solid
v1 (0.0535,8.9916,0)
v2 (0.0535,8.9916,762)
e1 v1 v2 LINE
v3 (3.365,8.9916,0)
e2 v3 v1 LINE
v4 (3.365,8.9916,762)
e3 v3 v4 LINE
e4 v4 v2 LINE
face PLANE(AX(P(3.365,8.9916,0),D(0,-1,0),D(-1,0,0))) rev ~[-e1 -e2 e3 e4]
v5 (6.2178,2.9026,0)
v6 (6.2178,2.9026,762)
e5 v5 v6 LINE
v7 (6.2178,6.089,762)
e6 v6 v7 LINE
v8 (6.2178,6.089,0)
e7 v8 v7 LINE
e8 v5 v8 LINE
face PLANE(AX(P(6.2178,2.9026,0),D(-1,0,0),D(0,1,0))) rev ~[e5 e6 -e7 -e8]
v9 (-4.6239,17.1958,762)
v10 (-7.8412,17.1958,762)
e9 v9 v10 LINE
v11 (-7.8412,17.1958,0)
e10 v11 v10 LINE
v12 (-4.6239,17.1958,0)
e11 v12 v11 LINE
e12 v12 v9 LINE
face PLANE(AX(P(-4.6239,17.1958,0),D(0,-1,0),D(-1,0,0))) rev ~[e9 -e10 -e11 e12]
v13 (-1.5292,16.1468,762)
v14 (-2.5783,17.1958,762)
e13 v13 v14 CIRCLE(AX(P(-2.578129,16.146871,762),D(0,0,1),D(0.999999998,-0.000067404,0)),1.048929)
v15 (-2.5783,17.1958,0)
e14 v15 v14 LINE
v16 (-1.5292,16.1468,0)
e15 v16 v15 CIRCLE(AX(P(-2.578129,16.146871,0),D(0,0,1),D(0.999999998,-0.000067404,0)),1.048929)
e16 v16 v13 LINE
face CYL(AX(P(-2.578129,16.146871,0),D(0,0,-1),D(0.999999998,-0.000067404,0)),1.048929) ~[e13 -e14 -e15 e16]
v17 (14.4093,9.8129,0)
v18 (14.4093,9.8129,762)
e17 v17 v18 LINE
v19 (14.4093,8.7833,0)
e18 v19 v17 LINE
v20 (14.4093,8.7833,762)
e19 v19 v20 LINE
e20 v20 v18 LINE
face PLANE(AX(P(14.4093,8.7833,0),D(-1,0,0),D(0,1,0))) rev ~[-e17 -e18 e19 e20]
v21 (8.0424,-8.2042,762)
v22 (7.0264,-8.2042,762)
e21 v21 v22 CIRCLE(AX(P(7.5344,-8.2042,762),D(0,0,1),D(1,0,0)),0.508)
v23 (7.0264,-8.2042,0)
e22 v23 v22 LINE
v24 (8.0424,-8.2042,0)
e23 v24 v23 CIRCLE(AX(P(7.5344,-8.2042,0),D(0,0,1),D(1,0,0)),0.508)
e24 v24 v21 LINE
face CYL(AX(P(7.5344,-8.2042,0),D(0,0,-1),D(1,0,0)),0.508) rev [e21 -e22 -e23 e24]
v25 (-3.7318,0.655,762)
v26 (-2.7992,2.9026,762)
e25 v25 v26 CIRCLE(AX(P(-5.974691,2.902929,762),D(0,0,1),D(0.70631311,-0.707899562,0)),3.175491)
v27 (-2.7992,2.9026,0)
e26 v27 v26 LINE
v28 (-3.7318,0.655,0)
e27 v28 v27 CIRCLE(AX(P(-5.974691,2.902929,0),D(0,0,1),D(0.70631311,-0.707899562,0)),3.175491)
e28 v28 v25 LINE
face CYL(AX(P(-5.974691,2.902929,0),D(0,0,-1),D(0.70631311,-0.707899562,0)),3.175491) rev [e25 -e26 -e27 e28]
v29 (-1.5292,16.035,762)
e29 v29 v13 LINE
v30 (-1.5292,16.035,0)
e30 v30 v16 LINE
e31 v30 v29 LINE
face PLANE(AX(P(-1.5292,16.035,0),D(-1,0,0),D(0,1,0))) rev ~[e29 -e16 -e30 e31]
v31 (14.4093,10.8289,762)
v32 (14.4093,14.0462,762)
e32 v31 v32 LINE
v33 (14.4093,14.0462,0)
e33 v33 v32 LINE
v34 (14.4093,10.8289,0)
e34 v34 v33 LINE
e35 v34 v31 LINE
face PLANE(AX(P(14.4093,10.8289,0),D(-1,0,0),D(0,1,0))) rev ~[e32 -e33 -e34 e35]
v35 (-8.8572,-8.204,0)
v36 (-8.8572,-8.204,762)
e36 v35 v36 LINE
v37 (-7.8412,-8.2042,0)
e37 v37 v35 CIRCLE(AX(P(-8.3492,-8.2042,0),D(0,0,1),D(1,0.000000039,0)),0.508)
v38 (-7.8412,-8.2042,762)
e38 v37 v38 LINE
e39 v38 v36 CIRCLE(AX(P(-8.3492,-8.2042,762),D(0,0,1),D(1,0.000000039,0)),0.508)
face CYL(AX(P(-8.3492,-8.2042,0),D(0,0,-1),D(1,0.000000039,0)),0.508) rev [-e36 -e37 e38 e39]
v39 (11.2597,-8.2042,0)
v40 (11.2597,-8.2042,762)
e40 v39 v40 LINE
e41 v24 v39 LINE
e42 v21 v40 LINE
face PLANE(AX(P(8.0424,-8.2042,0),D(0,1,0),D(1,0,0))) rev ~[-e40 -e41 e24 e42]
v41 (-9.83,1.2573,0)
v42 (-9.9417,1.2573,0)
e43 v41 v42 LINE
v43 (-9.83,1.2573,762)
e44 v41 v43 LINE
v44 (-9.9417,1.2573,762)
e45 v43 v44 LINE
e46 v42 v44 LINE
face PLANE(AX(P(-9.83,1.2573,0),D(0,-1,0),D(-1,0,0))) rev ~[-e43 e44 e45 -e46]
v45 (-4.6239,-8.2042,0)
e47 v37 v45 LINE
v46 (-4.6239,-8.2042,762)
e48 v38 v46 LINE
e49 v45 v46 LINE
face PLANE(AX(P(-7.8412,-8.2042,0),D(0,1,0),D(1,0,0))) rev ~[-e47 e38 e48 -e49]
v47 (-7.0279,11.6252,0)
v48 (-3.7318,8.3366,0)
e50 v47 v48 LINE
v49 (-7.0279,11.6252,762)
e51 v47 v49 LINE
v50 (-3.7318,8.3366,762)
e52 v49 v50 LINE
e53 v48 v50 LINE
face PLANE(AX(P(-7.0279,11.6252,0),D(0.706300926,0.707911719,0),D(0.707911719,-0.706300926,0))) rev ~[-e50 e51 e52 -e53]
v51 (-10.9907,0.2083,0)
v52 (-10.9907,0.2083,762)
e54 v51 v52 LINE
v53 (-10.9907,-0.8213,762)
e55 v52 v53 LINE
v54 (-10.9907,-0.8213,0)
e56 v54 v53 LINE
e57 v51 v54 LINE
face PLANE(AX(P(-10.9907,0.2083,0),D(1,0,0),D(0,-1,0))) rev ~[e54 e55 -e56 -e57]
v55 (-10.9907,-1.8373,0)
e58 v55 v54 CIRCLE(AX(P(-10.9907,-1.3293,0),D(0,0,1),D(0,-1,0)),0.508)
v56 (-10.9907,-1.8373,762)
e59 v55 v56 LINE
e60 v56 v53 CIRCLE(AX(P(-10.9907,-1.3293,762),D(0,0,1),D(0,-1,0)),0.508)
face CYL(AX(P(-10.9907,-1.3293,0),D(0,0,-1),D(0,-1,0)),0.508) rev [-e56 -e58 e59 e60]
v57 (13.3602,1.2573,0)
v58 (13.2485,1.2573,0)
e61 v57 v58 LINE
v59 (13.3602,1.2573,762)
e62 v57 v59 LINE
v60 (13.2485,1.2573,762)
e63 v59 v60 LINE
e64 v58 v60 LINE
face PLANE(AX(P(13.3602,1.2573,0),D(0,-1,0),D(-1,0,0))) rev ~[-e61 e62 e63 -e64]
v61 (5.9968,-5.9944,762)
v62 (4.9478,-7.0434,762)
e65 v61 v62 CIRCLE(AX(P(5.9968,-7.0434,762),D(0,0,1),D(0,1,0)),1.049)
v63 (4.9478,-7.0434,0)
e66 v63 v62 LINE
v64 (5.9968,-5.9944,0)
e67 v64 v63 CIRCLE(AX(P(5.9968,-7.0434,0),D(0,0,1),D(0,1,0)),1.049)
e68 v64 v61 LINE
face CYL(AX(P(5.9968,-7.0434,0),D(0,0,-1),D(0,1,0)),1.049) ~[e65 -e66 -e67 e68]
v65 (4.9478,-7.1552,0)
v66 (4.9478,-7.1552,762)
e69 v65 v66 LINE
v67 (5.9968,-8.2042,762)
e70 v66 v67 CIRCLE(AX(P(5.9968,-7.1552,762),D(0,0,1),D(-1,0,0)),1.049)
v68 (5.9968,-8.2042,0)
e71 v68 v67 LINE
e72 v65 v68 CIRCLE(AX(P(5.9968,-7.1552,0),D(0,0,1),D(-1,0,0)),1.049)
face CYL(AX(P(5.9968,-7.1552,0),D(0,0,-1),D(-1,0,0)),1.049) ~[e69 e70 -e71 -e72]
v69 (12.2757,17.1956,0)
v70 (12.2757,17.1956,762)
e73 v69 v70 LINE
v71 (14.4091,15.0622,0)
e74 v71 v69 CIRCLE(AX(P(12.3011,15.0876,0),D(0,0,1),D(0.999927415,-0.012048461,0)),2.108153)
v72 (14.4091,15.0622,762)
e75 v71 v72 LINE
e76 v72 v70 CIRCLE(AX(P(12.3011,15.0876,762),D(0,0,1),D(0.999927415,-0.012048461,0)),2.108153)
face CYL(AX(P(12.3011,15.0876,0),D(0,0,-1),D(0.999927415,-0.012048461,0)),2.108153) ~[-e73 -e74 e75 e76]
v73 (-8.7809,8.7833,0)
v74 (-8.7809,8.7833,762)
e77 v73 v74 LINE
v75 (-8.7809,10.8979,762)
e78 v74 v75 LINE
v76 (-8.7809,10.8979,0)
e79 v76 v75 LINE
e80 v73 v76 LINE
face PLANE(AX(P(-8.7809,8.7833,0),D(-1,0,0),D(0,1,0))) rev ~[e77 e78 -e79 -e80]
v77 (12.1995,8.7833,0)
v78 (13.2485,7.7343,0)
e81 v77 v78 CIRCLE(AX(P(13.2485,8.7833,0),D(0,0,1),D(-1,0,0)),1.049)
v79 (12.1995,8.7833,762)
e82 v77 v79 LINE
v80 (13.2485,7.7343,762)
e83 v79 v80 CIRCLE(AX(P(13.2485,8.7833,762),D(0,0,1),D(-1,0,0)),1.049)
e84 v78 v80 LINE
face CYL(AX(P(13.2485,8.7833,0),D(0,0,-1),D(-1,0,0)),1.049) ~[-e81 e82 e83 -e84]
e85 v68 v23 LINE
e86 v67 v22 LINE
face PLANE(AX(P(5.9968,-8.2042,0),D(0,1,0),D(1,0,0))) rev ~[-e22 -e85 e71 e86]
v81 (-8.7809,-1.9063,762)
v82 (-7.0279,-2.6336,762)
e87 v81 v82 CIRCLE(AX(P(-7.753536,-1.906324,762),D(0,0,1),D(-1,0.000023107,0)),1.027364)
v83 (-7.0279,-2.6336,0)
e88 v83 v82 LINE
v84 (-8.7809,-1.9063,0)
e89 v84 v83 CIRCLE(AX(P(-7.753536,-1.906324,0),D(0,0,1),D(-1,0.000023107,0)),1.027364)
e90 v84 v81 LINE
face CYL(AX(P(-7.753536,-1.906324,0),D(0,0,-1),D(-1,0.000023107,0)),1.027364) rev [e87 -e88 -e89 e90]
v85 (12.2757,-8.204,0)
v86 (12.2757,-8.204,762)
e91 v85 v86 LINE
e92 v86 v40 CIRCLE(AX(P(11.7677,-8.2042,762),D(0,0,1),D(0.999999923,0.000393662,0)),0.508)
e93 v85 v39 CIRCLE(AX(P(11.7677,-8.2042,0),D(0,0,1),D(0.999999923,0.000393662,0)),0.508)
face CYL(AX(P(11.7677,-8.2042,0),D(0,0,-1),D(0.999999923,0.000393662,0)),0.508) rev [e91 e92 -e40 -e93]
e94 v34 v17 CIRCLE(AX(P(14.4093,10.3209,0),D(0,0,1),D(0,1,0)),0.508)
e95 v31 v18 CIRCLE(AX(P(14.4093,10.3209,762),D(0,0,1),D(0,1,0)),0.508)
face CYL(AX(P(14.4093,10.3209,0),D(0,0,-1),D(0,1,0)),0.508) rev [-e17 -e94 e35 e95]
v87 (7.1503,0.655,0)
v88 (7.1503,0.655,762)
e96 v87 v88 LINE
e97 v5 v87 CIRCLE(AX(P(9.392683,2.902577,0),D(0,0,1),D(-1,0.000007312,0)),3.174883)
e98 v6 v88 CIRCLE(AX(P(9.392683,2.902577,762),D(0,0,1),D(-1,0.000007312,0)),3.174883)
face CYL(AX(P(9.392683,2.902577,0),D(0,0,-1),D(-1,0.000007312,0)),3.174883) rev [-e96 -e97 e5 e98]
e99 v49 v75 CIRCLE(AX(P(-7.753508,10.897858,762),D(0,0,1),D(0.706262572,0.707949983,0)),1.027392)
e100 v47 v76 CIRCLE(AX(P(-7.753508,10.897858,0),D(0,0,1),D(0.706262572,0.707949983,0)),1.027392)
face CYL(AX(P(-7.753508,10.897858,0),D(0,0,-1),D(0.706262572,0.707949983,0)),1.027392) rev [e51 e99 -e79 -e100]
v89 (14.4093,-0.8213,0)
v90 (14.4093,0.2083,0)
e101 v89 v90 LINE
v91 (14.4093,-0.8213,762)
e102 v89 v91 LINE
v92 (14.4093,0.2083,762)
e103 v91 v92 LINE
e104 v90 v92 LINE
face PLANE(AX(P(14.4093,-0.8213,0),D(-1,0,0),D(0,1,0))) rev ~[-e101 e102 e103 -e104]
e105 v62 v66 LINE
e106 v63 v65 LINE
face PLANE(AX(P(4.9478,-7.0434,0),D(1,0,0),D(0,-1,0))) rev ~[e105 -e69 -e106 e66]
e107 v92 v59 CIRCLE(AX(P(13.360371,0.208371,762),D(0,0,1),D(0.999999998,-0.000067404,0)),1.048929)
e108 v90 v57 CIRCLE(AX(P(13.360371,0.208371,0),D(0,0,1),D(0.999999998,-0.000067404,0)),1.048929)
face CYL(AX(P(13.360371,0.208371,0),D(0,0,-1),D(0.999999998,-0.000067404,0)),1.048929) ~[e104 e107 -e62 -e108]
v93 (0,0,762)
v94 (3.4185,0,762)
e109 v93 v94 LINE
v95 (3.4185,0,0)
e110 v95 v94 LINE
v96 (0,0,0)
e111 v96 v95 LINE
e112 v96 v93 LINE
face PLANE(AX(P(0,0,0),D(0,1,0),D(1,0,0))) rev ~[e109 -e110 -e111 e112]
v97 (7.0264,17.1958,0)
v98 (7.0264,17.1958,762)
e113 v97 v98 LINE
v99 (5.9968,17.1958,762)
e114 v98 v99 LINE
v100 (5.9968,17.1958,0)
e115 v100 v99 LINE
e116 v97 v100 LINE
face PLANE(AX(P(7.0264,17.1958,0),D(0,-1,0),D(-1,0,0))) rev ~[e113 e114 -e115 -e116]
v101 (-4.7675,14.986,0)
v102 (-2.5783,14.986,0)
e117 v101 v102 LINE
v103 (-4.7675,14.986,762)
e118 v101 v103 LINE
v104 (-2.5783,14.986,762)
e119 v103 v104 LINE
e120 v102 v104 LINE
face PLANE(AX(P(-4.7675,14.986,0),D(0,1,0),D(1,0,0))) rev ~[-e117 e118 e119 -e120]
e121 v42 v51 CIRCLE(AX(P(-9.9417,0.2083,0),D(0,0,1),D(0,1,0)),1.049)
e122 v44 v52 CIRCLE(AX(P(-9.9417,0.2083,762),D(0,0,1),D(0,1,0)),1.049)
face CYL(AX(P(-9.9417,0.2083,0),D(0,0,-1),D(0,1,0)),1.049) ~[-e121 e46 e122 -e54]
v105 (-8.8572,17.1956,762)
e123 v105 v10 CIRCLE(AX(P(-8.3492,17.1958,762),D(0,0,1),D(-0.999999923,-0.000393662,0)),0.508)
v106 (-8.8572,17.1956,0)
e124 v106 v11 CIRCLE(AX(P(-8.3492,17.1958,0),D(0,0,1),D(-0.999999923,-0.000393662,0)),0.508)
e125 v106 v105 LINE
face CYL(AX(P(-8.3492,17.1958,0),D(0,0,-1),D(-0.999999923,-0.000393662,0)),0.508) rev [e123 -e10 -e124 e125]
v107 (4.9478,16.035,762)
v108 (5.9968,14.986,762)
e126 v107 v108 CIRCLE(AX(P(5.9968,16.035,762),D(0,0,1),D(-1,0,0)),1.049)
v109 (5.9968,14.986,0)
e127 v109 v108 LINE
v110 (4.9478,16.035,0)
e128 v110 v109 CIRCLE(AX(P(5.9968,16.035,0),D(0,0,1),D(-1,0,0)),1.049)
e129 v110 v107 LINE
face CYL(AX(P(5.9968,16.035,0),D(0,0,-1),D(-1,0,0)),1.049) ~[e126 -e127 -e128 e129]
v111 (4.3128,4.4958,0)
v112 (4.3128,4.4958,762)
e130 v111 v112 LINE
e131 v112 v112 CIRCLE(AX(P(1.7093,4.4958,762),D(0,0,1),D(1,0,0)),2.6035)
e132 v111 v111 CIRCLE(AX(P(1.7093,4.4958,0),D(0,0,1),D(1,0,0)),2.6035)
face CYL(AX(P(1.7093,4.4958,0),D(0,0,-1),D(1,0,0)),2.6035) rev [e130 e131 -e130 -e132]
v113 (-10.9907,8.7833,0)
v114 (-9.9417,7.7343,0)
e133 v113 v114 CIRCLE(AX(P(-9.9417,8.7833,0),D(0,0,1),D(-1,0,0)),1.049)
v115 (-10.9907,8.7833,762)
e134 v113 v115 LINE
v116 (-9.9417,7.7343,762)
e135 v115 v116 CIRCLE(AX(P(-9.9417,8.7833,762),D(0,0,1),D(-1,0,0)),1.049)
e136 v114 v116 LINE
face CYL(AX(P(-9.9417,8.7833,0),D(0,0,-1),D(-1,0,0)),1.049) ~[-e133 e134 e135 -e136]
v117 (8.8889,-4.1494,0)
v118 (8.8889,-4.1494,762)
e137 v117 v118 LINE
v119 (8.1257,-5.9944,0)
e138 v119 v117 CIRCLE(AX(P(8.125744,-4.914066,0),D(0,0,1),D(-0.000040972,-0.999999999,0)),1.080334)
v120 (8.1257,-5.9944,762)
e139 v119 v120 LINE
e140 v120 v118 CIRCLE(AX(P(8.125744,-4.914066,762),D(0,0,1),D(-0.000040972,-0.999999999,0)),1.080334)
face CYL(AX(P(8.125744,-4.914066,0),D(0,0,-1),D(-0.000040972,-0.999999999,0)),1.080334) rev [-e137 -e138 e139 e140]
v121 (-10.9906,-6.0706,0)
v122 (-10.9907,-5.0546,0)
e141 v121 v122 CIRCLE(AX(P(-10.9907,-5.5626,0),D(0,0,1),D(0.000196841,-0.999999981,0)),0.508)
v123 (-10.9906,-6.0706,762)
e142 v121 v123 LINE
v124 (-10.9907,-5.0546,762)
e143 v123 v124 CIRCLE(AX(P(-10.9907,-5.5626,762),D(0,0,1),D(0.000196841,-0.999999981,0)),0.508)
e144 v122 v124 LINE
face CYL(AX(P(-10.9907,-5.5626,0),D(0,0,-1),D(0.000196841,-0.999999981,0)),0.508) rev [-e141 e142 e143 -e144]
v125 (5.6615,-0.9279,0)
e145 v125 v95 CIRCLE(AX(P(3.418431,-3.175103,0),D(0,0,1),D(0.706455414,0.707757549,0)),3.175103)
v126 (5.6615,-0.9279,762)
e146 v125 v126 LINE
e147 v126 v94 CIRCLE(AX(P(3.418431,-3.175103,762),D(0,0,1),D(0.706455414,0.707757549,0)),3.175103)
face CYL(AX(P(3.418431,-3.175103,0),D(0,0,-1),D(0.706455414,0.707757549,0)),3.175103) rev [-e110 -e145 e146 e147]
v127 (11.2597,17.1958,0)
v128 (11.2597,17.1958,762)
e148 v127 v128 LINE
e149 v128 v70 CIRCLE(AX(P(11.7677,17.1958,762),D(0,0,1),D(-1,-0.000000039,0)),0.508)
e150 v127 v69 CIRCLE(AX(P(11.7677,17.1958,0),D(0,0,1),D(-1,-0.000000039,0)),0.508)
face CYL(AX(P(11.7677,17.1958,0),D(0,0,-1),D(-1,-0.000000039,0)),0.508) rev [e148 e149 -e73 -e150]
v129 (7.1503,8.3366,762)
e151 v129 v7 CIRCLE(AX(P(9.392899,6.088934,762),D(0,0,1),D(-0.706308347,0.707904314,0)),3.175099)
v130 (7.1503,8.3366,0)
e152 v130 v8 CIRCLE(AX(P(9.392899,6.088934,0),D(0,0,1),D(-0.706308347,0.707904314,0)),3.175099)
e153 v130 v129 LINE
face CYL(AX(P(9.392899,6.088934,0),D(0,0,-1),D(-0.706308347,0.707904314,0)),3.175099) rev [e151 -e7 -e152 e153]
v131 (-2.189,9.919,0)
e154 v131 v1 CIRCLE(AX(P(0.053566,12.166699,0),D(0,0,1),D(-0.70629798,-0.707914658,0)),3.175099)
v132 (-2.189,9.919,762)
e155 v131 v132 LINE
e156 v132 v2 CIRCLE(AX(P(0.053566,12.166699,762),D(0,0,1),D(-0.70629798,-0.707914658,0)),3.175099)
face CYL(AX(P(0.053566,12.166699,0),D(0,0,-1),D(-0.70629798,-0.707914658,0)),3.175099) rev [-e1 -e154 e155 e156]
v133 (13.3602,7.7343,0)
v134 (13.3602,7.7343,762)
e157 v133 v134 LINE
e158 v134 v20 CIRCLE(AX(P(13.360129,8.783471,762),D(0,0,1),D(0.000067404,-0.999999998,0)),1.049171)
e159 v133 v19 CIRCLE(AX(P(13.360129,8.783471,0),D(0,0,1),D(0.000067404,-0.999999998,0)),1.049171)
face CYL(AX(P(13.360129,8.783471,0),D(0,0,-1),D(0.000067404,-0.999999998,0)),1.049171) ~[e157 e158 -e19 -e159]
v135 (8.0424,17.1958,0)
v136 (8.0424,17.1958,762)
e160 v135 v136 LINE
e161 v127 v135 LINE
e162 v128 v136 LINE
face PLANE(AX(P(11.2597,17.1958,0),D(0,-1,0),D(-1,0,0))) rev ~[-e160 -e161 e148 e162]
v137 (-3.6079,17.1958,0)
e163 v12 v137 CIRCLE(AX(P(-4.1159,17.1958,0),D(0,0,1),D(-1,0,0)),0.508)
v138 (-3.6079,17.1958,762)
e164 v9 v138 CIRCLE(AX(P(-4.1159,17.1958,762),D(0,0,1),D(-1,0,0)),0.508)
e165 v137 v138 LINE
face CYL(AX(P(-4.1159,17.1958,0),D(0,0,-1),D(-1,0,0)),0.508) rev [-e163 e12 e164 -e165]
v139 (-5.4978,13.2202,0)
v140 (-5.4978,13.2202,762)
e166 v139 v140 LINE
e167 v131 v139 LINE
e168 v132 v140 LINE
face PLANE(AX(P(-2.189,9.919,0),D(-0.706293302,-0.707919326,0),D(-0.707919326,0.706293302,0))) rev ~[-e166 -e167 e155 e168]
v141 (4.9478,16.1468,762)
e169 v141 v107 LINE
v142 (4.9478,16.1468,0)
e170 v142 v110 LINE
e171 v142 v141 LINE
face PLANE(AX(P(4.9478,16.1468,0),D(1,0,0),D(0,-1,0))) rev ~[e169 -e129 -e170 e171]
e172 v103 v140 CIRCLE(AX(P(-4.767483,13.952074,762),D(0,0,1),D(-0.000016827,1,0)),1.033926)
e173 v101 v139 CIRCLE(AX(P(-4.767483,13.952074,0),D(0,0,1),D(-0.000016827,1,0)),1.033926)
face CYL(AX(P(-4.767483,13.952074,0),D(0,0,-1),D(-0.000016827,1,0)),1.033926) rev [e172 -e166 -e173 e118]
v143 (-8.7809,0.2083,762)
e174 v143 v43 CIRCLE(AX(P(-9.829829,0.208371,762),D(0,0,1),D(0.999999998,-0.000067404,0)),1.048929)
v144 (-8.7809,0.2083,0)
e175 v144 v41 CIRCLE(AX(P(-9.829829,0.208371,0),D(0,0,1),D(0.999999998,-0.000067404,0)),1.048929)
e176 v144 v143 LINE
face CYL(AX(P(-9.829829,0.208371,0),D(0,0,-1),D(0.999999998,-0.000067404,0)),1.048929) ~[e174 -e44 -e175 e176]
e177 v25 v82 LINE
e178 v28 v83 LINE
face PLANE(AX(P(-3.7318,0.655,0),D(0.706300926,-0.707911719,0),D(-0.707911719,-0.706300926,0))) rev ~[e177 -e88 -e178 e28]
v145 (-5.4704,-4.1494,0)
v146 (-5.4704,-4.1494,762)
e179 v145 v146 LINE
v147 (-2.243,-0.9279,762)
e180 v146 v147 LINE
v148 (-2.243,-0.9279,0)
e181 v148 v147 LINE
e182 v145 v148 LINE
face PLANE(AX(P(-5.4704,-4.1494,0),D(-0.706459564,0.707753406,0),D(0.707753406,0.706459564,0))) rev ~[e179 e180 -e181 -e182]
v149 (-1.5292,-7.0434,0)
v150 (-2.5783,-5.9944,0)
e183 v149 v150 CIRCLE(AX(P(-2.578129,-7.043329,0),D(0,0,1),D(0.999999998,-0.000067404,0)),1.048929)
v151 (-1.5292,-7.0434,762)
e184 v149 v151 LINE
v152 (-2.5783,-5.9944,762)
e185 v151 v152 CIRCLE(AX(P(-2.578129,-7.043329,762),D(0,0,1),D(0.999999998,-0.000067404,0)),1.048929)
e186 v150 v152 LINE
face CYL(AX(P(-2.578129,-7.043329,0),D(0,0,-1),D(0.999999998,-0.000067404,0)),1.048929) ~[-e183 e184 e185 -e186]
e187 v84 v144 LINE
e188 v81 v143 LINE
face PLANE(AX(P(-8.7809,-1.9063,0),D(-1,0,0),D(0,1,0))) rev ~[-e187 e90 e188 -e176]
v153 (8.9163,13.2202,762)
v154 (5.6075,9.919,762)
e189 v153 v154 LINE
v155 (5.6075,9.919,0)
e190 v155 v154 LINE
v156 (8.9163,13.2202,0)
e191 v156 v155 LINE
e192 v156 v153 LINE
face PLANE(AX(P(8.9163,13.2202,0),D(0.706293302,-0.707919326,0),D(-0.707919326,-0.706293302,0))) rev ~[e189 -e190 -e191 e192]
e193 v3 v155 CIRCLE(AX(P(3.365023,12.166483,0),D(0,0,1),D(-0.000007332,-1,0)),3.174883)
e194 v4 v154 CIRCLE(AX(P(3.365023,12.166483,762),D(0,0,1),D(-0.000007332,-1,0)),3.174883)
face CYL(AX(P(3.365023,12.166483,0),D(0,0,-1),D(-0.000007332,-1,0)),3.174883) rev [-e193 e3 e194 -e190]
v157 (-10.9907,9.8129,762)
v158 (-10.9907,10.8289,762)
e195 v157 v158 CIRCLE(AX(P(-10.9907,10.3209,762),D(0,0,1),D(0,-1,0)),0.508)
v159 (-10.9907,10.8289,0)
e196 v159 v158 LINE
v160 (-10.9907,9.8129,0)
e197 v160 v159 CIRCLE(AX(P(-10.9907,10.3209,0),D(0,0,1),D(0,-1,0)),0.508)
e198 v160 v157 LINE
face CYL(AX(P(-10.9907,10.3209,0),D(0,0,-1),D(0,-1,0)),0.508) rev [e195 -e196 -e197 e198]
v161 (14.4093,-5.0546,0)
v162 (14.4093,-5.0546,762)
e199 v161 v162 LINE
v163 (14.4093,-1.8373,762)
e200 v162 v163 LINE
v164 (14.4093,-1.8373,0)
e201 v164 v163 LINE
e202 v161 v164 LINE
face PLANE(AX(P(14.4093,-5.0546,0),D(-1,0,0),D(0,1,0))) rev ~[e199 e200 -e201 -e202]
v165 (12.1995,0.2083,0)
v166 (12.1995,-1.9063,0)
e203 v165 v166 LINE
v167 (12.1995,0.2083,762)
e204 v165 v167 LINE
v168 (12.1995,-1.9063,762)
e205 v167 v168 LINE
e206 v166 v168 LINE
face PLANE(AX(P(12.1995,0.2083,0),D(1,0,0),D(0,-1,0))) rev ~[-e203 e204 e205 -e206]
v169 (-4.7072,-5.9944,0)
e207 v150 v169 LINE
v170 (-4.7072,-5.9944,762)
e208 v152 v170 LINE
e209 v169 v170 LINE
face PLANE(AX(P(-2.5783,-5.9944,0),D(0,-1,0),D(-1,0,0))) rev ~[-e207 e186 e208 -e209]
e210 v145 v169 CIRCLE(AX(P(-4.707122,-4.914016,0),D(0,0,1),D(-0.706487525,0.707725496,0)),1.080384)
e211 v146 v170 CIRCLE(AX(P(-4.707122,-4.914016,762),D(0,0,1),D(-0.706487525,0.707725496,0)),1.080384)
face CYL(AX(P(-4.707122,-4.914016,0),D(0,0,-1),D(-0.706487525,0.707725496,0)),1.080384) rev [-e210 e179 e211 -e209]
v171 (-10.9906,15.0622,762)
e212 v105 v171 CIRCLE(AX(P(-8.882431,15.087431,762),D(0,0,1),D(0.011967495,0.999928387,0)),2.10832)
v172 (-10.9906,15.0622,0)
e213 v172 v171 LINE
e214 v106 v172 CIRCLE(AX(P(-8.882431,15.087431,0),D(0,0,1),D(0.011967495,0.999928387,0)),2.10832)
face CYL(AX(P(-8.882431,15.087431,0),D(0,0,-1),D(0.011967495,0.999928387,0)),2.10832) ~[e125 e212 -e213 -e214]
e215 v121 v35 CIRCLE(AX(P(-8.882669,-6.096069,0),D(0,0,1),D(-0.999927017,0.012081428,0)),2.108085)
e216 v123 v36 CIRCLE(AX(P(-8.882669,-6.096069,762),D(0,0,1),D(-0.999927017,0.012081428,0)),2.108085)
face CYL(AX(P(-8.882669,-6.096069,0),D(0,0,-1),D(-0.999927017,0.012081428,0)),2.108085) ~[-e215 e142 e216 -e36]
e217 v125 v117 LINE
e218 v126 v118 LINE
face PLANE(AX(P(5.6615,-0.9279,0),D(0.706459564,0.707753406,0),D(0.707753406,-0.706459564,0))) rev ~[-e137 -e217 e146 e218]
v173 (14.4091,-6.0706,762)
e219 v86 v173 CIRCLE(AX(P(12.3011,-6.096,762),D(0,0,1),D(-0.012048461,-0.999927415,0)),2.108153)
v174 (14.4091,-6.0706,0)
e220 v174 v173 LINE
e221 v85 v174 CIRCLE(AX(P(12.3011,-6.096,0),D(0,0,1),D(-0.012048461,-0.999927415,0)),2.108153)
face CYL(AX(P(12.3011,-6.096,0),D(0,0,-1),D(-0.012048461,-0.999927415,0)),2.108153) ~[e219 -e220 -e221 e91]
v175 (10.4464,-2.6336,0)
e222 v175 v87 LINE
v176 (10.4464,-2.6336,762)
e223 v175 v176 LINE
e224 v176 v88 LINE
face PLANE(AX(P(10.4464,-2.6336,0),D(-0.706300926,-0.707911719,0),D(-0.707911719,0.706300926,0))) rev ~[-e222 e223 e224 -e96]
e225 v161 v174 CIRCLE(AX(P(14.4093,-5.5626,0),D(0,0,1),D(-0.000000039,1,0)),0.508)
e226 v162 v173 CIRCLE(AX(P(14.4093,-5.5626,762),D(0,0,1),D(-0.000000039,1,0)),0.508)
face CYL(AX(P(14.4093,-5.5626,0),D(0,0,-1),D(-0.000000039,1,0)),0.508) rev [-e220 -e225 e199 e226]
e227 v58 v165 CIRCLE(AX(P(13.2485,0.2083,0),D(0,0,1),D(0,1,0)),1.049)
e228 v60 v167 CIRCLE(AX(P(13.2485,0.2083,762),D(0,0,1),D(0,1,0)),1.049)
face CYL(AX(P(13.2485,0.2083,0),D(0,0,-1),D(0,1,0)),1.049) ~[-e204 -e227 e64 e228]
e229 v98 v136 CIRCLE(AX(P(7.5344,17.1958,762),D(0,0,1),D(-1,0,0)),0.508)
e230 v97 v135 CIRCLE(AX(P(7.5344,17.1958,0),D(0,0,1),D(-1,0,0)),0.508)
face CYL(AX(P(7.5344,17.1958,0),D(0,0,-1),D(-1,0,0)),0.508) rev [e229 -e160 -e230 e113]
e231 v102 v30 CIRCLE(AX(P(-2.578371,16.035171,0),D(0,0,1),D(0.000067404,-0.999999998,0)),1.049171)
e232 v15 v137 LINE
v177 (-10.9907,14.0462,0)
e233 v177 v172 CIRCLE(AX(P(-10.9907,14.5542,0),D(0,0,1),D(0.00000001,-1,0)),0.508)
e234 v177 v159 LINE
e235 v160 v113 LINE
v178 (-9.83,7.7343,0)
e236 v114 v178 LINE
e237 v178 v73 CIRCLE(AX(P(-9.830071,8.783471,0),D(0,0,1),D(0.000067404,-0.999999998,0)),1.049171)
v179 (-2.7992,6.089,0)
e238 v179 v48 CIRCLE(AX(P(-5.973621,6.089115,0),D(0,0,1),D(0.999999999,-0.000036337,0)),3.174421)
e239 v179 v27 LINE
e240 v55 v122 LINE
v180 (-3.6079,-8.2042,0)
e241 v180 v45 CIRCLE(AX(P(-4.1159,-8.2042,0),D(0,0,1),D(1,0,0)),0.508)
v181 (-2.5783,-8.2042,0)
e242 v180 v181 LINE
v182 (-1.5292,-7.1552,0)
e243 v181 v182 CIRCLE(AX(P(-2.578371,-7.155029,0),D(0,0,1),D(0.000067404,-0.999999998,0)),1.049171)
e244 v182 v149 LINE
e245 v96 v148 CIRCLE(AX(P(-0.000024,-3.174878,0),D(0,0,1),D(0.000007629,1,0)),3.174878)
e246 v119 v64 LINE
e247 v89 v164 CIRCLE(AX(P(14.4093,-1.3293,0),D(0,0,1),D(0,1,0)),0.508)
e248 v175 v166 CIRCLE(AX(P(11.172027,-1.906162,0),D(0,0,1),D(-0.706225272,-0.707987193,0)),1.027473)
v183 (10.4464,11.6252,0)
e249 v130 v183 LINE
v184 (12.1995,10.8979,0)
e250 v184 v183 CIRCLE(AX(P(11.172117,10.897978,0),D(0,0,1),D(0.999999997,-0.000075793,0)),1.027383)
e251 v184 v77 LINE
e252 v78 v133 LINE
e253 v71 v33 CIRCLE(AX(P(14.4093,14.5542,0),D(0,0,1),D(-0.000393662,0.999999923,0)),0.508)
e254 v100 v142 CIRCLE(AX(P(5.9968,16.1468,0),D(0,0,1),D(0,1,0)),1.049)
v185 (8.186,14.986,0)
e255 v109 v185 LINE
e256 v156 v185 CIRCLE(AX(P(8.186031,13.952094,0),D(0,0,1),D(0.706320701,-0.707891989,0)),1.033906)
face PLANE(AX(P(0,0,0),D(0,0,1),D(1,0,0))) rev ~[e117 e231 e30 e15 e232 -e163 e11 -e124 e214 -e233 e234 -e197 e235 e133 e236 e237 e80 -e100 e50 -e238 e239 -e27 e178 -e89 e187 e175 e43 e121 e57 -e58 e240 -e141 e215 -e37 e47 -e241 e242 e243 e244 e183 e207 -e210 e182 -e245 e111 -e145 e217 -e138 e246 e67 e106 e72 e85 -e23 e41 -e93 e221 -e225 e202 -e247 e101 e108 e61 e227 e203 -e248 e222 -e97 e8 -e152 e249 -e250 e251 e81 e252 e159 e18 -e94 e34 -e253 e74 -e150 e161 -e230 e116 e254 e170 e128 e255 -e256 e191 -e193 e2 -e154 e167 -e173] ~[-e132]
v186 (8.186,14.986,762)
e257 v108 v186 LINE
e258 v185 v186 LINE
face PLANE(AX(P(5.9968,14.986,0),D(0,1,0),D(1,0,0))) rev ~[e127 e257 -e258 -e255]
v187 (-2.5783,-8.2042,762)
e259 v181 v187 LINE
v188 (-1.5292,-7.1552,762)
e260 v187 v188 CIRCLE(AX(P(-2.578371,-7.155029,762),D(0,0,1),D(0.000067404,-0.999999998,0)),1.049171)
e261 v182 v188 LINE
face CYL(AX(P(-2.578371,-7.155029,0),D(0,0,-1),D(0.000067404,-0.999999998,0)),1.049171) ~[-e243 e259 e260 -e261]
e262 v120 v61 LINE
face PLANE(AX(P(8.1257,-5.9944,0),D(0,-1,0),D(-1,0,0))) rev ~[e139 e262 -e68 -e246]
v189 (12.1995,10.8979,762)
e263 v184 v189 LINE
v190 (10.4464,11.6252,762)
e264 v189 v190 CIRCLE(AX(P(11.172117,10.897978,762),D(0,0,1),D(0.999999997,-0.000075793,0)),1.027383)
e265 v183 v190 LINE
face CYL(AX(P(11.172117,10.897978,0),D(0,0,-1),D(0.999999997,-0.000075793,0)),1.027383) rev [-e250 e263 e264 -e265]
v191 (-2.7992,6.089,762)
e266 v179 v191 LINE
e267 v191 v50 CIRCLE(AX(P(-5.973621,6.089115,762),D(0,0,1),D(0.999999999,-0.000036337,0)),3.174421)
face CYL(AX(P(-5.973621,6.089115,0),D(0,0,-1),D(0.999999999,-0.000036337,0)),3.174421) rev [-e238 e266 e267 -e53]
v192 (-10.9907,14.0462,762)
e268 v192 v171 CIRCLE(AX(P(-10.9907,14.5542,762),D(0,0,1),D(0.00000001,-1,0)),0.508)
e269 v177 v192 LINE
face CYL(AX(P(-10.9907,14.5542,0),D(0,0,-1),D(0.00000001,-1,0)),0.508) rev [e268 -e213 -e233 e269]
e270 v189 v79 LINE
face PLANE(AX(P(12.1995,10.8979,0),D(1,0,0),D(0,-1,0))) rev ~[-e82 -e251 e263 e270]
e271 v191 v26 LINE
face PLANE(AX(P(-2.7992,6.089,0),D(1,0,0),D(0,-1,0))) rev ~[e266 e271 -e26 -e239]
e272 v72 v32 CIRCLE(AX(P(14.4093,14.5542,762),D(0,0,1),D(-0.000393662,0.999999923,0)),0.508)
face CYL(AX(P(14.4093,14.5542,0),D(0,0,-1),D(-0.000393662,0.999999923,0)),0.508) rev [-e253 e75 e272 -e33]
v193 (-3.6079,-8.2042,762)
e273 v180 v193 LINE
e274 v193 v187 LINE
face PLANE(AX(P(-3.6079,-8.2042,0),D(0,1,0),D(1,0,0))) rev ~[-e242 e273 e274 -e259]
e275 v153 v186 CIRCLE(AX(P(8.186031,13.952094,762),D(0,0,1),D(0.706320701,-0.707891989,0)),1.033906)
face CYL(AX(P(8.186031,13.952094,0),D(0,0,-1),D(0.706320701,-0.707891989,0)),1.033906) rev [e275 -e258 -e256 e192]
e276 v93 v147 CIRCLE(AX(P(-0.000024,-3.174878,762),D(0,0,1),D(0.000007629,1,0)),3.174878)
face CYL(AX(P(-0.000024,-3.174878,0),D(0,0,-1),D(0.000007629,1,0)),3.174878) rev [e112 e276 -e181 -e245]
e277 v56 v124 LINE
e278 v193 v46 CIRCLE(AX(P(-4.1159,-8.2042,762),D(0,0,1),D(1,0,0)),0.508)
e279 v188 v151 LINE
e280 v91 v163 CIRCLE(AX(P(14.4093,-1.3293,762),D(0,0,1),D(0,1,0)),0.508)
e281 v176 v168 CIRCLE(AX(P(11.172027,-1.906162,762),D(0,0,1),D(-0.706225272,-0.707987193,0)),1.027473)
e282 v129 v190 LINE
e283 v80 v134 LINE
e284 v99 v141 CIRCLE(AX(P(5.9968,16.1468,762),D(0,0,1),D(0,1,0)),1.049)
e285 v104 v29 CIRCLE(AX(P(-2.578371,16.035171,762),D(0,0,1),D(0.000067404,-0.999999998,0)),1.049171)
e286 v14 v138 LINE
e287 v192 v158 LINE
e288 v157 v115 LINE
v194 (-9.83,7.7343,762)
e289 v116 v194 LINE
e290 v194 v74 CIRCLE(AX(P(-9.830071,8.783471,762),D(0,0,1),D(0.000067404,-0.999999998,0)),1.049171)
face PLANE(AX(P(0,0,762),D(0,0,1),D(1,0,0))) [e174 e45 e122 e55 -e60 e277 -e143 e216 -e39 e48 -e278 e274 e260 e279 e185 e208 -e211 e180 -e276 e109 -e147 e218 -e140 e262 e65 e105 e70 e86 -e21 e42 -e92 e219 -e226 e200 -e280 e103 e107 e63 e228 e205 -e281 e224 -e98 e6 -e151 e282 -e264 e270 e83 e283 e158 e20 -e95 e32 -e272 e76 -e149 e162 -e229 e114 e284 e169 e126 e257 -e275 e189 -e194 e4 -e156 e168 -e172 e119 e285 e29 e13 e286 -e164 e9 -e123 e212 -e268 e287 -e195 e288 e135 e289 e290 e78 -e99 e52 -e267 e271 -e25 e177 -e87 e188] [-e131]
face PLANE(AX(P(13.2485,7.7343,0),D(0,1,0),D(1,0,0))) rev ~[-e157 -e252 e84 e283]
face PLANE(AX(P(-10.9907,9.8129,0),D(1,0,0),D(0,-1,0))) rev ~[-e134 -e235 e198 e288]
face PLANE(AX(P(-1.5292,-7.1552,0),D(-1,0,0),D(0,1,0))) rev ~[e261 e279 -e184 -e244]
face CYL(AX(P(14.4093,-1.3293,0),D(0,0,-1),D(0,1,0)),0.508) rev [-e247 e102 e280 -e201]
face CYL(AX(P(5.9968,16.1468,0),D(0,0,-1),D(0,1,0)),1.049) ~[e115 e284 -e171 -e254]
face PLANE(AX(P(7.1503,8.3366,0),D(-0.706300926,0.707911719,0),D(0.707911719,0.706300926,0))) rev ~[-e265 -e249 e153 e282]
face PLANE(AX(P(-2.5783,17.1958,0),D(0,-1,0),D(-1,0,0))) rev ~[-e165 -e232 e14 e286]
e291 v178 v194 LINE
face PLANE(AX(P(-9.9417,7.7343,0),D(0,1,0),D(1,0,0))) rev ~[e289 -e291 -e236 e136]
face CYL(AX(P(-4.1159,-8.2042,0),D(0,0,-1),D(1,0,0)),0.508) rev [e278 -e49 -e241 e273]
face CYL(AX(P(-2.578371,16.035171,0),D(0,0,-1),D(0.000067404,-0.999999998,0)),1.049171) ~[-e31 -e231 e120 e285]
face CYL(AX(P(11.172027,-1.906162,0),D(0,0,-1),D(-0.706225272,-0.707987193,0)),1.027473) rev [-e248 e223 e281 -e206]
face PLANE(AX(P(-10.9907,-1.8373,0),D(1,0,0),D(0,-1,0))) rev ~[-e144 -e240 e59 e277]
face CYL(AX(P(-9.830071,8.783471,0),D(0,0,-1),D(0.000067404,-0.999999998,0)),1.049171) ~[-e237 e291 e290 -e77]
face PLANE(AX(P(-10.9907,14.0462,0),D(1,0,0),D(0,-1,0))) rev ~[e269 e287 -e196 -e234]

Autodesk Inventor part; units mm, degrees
ref_plane "YZ Plane" through (0, 0, 0) normal (1, 0, 0) x (0, 1, 0)
ref_plane "XZ Plane" through (0, 0, 0) normal (0, 1, 0) x (-1, 0, 0)
ref_plane "XY Plane" through (0, 0, 0) normal (0, 0, 1) x (1, 0, 0)
sketch "Sketch1" plane through (0, 0, 0) normal (0, 0, 1) x (1, 0, 0)
  arc A0 (-5.4704, -4.1494) -> (-4.7072, -5.9944) centre (-4.7072, -4.914) ccw
  line L0 (-5.4704, -4.1494) -> (-2.243, -0.9279)
  arc A1 (0, 0) -> (-2.243, -0.9279) centre (0, -3.175) ccw
  line L1 (0, 0) -> (3.4185, 0)
  arc A2 (5.6615, -0.9279) -> (3.4185, 0) centre (3.4185, -3.175) ccw
  line L2 (5.6615, -0.9279) -> (8.8889, -4.1494)
  arc A3 (8.1257, -5.9944) -> (8.8889, -4.1494) centre (8.1257, -4.914) ccw
  line L3 (8.1257, -5.9944) -> (5.9968, -5.9944)
  arc A4 (5.9968, -5.9944) -> (4.9478, -7.0434) centre (5.9968, -7.0434) ccw
  line L4 (4.9478, -7.0434) -> (4.9478, -7.1552)
  arc A5 (4.9478, -7.1552) -> (5.9968, -8.2042) centre (5.9968, -7.1552) ccw
  line L5 (5.9968, -8.2042) -> (7.0264, -8.2042)
  arc A6 (8.0424, -8.2042) -> (7.0264, -8.2042) centre (7.5344, -8.2042) ccw
  line L6 (8.0424, -8.2042) -> (11.2597, -8.2042)
  arc A7 (12.2757, -8.204) -> (11.2597, -8.2042) centre (11.7677, -8.2042) ccw
  arc A8 (12.2757, -8.204) -> (14.4091, -6.0706) centre (12.3011, -6.096) ccw
  arc A9 (14.4093, -5.0546) -> (14.4091, -6.0706) centre (14.4093, -5.5626) ccw
  line L7 (14.4093, -5.0546) -> (14.4093, -1.8373)
  arc A10 (14.4093, -0.8213) -> (14.4093, -1.8373) centre (14.4093, -1.3293) ccw
  line L8 (14.4093, -0.8213) -> (14.4093, 0.2083)
  arc A11 (14.4093, 0.2083) -> (13.3602, 1.2573) centre (13.3602, 0.2083) ccw
  line L9 (13.3602, 1.2573) -> (13.2485, 1.2573)
  arc A12 (13.2485, 1.2573) -> (12.1995, 0.2083) centre (13.2485, 0.2083) ccw
  line L10 (12.1995, 0.2083) -> (12.1995, -1.9063)
  arc A13 (10.4464, -2.6336) -> (12.1995, -1.9063) centre (11.172, -1.9063) ccw
  line L11 (10.4464, -2.6336) -> (7.1503, 0.655)
  arc A14 (6.2178, 2.9026) -> (7.1503, 0.655) centre (9.3928, 2.9026) ccw
  line L12 (6.2178, 2.9026) -> (6.2178, 6.089)
  arc A15 (7.1503, 8.3366) -> (6.2178, 6.089) centre (9.3928, 6.089) ccw
  line L13 (7.1503, 8.3366) -> (10.4464, 11.6252)
  arc A16 (12.1995, 10.8979) -> (10.4464, 11.6252) centre (11.172, 10.8979) ccw
  line L14 (12.1995, 10.8979) -> (12.1995, 8.7833)
  arc A17 (12.1995, 8.7833) -> (13.2485, 7.7343) centre (13.2485, 8.7833) ccw
  line L15 (13.2485, 7.7343) -> (13.3602, 7.7343)
  arc A18 (13.3602, 7.7343) -> (14.4093, 8.7833) centre (13.3602, 8.7833) ccw
  line L16 (14.4093, 8.7833) -> (14.4093, 9.8129)
  arc A19 (14.4093, 10.8289) -> (14.4093, 9.8129) centre (14.4093, 10.3209) ccw
  line L17 (14.4093, 10.8289) -> (14.4093, 14.0462)
  arc A20 (14.4091, 15.0622) -> (14.4093, 14.0462) centre (14.4093, 14.5542) ccw
  arc A21 (14.4091, 15.0622) -> (12.2757, 17.1956) centre (12.3011, 15.0876) ccw
  arc A22 (11.2597, 17.1958) -> (12.2757, 17.1956) centre (11.7677, 17.1958) ccw
  line L18 (11.2597, 17.1958) -> (8.0424, 17.1958)
  arc A23 (7.0264, 17.1958) -> (8.0424, 17.1958) centre (7.5344, 17.1958) ccw
  line L19 (7.0264, 17.1958) -> (5.9968, 17.1958)
  arc A24 (5.9968, 17.1958) -> (4.9478, 16.1468) centre (5.9968, 16.1468) ccw
  line L20 (4.9478, 16.1468) -> (4.9478, 16.035)
  arc A25 (4.9478, 16.035) -> (5.9968, 14.986) centre (5.9968, 16.035) ccw
  line L21 (5.9968, 14.986) -> (8.186, 14.986)
  arc A26 (8.9163, 13.2202) -> (8.186, 14.986) centre (8.186, 13.9521) ccw
  line L22 (8.9163, 13.2202) -> (5.6075, 9.919)
  arc A27 (3.365, 8.9916) -> (5.6075, 9.919) centre (3.365, 12.1666) ccw
  line L23 (3.365, 8.9916) -> (0.0535, 8.9916)
  arc A28 (-2.189, 9.919) -> (0.0535, 8.9916) centre (0.0535, 12.1666) ccw
  line L24 (-2.189, 9.919) -> (-5.4978, 13.2202)
  arc A29 (-4.7675, 14.986) -> (-5.4978, 13.2202) centre (-4.7675, 13.9521) ccw
  line L25 (-4.7675, 14.986) -> (-2.5783, 14.986)
  arc A30 (-2.5783, 14.986) -> (-1.5292, 16.035) centre (-2.5783, 16.035) ccw
  line L26 (-1.5292, 16.035) -> (-1.5292, 16.1468)
  arc A31 (-1.5292, 16.1468) -> (-2.5783, 17.1958) centre (-2.5783, 16.1468) ccw
  line L27 (-2.5783, 17.1958) -> (-3.6079, 17.1958)
  arc A32 (-4.6239, 17.1958) -> (-3.6079, 17.1958) centre (-4.1159, 17.1958) ccw
  line L28 (-4.6239, 17.1958) -> (-7.8412, 17.1958)
  arc A33 (-8.8572, 17.1956) -> (-7.8412, 17.1958) centre (-8.3492, 17.1958) ccw
  arc A34 (-8.8572, 17.1956) -> (-10.9906, 15.0622) centre (-8.8825, 15.0876) ccw
  arc A35 (-10.9907, 14.0462) -> (-10.9906, 15.0622) centre (-10.9907, 14.5542) ccw
  line L29 (-10.9907, 14.0462) -> (-10.9907, 10.8289)
  arc A36 (-10.9907, 9.8129) -> (-10.9907, 10.8289) centre (-10.9907, 10.3209) ccw
  line L30 (-10.9907, 9.8129) -> (-10.9907, 8.7833)
  arc A37 (-10.9907, 8.7833) -> (-9.9417, 7.7343) centre (-9.9417, 8.7833) ccw
  line L31 (-9.9417, 7.7343) -> (-9.83, 7.7343)
  arc A38 (-9.83, 7.7343) -> (-8.7809, 8.7833) centre (-9.83, 8.7833) ccw
  line L32 (-8.7809, 8.7833) -> (-8.7809, 10.8979)
  arc A39 (-7.0279, 11.6252) -> (-8.7809, 10.8979) centre (-7.7535, 10.8979) ccw
  line L33 (-7.0279, 11.6252) -> (-3.7318, 8.3366)
  arc A40 (-2.7992, 6.089) -> (-3.7318, 8.3366) centre (-5.9742, 6.089) ccw
  line L34 (-2.7992, 6.089) -> (-2.7992, 2.9026)
  arc A41 (-3.7318, 0.655) -> (-2.7992, 2.9026) centre (-5.9742, 2.9026) ccw
  line L35 (-3.7318, 0.655) -> (-7.0279, -2.6336)
  arc A42 (-8.7809, -1.9063) -> (-7.0279, -2.6336) centre (-7.7535, -1.9063) ccw
  line L36 (-8.7809, -1.9063) -> (-8.7809, 0.2083)
  arc A43 (-8.7809, 0.2083) -> (-9.83, 1.2573) centre (-9.83, 0.2083) ccw
  line L37 (-9.83, 1.2573) -> (-9.9417, 1.2573)
  arc A44 (-9.9417, 1.2573) -> (-10.9907, 0.2083) centre (-9.9417, 0.2083) ccw
  line L38 (-10.9907, 0.2083) -> (-10.9907, -0.8213)
  arc A45 (-10.9907, -1.8373) -> (-10.9907, -0.8213) centre (-10.9907, -1.3293) ccw
  line L39 (-10.9907, -1.8373) -> (-10.9907, -5.0546)
  arc A46 (-10.9906, -6.0706) -> (-10.9907, -5.0546) centre (-10.9907, -5.5626) ccw
  arc A47 (-10.9906, -6.0706) -> (-8.8572, -8.204) centre (-8.8825, -6.096) ccw
  arc A48 (-7.8412, -8.2042) -> (-8.8572, -8.204) centre (-8.3492, -8.2042) ccw
  line L40 (-7.8412, -8.2042) -> (-4.6239, -8.2042)
  arc A49 (-3.6079, -8.2042) -> (-4.6239, -8.2042) centre (-4.1159, -8.2042) ccw
  line L41 (-3.6079, -8.2042) -> (-2.5783, -8.2042)
  arc A50 (-2.5783, -8.2042) -> (-1.5292, -7.1552) centre (-2.5783, -7.1552) ccw
  line L42 (-1.5292, -7.1552) -> (-1.5292, -7.0434)
  arc A51 (-1.5292, -7.0434) -> (-2.5783, -5.9944) centre (-2.5783, -7.0434) ccw
  line L43 (-2.5783, -5.9944) -> (-4.7072, -5.9944)
  circle A52 centre (1.7093, 4.4958) radius 2.6035
extrude "Extrusion1" add sketch "Sketch1" along normal blind 762
properties part number "30in 1x1 T slot"
